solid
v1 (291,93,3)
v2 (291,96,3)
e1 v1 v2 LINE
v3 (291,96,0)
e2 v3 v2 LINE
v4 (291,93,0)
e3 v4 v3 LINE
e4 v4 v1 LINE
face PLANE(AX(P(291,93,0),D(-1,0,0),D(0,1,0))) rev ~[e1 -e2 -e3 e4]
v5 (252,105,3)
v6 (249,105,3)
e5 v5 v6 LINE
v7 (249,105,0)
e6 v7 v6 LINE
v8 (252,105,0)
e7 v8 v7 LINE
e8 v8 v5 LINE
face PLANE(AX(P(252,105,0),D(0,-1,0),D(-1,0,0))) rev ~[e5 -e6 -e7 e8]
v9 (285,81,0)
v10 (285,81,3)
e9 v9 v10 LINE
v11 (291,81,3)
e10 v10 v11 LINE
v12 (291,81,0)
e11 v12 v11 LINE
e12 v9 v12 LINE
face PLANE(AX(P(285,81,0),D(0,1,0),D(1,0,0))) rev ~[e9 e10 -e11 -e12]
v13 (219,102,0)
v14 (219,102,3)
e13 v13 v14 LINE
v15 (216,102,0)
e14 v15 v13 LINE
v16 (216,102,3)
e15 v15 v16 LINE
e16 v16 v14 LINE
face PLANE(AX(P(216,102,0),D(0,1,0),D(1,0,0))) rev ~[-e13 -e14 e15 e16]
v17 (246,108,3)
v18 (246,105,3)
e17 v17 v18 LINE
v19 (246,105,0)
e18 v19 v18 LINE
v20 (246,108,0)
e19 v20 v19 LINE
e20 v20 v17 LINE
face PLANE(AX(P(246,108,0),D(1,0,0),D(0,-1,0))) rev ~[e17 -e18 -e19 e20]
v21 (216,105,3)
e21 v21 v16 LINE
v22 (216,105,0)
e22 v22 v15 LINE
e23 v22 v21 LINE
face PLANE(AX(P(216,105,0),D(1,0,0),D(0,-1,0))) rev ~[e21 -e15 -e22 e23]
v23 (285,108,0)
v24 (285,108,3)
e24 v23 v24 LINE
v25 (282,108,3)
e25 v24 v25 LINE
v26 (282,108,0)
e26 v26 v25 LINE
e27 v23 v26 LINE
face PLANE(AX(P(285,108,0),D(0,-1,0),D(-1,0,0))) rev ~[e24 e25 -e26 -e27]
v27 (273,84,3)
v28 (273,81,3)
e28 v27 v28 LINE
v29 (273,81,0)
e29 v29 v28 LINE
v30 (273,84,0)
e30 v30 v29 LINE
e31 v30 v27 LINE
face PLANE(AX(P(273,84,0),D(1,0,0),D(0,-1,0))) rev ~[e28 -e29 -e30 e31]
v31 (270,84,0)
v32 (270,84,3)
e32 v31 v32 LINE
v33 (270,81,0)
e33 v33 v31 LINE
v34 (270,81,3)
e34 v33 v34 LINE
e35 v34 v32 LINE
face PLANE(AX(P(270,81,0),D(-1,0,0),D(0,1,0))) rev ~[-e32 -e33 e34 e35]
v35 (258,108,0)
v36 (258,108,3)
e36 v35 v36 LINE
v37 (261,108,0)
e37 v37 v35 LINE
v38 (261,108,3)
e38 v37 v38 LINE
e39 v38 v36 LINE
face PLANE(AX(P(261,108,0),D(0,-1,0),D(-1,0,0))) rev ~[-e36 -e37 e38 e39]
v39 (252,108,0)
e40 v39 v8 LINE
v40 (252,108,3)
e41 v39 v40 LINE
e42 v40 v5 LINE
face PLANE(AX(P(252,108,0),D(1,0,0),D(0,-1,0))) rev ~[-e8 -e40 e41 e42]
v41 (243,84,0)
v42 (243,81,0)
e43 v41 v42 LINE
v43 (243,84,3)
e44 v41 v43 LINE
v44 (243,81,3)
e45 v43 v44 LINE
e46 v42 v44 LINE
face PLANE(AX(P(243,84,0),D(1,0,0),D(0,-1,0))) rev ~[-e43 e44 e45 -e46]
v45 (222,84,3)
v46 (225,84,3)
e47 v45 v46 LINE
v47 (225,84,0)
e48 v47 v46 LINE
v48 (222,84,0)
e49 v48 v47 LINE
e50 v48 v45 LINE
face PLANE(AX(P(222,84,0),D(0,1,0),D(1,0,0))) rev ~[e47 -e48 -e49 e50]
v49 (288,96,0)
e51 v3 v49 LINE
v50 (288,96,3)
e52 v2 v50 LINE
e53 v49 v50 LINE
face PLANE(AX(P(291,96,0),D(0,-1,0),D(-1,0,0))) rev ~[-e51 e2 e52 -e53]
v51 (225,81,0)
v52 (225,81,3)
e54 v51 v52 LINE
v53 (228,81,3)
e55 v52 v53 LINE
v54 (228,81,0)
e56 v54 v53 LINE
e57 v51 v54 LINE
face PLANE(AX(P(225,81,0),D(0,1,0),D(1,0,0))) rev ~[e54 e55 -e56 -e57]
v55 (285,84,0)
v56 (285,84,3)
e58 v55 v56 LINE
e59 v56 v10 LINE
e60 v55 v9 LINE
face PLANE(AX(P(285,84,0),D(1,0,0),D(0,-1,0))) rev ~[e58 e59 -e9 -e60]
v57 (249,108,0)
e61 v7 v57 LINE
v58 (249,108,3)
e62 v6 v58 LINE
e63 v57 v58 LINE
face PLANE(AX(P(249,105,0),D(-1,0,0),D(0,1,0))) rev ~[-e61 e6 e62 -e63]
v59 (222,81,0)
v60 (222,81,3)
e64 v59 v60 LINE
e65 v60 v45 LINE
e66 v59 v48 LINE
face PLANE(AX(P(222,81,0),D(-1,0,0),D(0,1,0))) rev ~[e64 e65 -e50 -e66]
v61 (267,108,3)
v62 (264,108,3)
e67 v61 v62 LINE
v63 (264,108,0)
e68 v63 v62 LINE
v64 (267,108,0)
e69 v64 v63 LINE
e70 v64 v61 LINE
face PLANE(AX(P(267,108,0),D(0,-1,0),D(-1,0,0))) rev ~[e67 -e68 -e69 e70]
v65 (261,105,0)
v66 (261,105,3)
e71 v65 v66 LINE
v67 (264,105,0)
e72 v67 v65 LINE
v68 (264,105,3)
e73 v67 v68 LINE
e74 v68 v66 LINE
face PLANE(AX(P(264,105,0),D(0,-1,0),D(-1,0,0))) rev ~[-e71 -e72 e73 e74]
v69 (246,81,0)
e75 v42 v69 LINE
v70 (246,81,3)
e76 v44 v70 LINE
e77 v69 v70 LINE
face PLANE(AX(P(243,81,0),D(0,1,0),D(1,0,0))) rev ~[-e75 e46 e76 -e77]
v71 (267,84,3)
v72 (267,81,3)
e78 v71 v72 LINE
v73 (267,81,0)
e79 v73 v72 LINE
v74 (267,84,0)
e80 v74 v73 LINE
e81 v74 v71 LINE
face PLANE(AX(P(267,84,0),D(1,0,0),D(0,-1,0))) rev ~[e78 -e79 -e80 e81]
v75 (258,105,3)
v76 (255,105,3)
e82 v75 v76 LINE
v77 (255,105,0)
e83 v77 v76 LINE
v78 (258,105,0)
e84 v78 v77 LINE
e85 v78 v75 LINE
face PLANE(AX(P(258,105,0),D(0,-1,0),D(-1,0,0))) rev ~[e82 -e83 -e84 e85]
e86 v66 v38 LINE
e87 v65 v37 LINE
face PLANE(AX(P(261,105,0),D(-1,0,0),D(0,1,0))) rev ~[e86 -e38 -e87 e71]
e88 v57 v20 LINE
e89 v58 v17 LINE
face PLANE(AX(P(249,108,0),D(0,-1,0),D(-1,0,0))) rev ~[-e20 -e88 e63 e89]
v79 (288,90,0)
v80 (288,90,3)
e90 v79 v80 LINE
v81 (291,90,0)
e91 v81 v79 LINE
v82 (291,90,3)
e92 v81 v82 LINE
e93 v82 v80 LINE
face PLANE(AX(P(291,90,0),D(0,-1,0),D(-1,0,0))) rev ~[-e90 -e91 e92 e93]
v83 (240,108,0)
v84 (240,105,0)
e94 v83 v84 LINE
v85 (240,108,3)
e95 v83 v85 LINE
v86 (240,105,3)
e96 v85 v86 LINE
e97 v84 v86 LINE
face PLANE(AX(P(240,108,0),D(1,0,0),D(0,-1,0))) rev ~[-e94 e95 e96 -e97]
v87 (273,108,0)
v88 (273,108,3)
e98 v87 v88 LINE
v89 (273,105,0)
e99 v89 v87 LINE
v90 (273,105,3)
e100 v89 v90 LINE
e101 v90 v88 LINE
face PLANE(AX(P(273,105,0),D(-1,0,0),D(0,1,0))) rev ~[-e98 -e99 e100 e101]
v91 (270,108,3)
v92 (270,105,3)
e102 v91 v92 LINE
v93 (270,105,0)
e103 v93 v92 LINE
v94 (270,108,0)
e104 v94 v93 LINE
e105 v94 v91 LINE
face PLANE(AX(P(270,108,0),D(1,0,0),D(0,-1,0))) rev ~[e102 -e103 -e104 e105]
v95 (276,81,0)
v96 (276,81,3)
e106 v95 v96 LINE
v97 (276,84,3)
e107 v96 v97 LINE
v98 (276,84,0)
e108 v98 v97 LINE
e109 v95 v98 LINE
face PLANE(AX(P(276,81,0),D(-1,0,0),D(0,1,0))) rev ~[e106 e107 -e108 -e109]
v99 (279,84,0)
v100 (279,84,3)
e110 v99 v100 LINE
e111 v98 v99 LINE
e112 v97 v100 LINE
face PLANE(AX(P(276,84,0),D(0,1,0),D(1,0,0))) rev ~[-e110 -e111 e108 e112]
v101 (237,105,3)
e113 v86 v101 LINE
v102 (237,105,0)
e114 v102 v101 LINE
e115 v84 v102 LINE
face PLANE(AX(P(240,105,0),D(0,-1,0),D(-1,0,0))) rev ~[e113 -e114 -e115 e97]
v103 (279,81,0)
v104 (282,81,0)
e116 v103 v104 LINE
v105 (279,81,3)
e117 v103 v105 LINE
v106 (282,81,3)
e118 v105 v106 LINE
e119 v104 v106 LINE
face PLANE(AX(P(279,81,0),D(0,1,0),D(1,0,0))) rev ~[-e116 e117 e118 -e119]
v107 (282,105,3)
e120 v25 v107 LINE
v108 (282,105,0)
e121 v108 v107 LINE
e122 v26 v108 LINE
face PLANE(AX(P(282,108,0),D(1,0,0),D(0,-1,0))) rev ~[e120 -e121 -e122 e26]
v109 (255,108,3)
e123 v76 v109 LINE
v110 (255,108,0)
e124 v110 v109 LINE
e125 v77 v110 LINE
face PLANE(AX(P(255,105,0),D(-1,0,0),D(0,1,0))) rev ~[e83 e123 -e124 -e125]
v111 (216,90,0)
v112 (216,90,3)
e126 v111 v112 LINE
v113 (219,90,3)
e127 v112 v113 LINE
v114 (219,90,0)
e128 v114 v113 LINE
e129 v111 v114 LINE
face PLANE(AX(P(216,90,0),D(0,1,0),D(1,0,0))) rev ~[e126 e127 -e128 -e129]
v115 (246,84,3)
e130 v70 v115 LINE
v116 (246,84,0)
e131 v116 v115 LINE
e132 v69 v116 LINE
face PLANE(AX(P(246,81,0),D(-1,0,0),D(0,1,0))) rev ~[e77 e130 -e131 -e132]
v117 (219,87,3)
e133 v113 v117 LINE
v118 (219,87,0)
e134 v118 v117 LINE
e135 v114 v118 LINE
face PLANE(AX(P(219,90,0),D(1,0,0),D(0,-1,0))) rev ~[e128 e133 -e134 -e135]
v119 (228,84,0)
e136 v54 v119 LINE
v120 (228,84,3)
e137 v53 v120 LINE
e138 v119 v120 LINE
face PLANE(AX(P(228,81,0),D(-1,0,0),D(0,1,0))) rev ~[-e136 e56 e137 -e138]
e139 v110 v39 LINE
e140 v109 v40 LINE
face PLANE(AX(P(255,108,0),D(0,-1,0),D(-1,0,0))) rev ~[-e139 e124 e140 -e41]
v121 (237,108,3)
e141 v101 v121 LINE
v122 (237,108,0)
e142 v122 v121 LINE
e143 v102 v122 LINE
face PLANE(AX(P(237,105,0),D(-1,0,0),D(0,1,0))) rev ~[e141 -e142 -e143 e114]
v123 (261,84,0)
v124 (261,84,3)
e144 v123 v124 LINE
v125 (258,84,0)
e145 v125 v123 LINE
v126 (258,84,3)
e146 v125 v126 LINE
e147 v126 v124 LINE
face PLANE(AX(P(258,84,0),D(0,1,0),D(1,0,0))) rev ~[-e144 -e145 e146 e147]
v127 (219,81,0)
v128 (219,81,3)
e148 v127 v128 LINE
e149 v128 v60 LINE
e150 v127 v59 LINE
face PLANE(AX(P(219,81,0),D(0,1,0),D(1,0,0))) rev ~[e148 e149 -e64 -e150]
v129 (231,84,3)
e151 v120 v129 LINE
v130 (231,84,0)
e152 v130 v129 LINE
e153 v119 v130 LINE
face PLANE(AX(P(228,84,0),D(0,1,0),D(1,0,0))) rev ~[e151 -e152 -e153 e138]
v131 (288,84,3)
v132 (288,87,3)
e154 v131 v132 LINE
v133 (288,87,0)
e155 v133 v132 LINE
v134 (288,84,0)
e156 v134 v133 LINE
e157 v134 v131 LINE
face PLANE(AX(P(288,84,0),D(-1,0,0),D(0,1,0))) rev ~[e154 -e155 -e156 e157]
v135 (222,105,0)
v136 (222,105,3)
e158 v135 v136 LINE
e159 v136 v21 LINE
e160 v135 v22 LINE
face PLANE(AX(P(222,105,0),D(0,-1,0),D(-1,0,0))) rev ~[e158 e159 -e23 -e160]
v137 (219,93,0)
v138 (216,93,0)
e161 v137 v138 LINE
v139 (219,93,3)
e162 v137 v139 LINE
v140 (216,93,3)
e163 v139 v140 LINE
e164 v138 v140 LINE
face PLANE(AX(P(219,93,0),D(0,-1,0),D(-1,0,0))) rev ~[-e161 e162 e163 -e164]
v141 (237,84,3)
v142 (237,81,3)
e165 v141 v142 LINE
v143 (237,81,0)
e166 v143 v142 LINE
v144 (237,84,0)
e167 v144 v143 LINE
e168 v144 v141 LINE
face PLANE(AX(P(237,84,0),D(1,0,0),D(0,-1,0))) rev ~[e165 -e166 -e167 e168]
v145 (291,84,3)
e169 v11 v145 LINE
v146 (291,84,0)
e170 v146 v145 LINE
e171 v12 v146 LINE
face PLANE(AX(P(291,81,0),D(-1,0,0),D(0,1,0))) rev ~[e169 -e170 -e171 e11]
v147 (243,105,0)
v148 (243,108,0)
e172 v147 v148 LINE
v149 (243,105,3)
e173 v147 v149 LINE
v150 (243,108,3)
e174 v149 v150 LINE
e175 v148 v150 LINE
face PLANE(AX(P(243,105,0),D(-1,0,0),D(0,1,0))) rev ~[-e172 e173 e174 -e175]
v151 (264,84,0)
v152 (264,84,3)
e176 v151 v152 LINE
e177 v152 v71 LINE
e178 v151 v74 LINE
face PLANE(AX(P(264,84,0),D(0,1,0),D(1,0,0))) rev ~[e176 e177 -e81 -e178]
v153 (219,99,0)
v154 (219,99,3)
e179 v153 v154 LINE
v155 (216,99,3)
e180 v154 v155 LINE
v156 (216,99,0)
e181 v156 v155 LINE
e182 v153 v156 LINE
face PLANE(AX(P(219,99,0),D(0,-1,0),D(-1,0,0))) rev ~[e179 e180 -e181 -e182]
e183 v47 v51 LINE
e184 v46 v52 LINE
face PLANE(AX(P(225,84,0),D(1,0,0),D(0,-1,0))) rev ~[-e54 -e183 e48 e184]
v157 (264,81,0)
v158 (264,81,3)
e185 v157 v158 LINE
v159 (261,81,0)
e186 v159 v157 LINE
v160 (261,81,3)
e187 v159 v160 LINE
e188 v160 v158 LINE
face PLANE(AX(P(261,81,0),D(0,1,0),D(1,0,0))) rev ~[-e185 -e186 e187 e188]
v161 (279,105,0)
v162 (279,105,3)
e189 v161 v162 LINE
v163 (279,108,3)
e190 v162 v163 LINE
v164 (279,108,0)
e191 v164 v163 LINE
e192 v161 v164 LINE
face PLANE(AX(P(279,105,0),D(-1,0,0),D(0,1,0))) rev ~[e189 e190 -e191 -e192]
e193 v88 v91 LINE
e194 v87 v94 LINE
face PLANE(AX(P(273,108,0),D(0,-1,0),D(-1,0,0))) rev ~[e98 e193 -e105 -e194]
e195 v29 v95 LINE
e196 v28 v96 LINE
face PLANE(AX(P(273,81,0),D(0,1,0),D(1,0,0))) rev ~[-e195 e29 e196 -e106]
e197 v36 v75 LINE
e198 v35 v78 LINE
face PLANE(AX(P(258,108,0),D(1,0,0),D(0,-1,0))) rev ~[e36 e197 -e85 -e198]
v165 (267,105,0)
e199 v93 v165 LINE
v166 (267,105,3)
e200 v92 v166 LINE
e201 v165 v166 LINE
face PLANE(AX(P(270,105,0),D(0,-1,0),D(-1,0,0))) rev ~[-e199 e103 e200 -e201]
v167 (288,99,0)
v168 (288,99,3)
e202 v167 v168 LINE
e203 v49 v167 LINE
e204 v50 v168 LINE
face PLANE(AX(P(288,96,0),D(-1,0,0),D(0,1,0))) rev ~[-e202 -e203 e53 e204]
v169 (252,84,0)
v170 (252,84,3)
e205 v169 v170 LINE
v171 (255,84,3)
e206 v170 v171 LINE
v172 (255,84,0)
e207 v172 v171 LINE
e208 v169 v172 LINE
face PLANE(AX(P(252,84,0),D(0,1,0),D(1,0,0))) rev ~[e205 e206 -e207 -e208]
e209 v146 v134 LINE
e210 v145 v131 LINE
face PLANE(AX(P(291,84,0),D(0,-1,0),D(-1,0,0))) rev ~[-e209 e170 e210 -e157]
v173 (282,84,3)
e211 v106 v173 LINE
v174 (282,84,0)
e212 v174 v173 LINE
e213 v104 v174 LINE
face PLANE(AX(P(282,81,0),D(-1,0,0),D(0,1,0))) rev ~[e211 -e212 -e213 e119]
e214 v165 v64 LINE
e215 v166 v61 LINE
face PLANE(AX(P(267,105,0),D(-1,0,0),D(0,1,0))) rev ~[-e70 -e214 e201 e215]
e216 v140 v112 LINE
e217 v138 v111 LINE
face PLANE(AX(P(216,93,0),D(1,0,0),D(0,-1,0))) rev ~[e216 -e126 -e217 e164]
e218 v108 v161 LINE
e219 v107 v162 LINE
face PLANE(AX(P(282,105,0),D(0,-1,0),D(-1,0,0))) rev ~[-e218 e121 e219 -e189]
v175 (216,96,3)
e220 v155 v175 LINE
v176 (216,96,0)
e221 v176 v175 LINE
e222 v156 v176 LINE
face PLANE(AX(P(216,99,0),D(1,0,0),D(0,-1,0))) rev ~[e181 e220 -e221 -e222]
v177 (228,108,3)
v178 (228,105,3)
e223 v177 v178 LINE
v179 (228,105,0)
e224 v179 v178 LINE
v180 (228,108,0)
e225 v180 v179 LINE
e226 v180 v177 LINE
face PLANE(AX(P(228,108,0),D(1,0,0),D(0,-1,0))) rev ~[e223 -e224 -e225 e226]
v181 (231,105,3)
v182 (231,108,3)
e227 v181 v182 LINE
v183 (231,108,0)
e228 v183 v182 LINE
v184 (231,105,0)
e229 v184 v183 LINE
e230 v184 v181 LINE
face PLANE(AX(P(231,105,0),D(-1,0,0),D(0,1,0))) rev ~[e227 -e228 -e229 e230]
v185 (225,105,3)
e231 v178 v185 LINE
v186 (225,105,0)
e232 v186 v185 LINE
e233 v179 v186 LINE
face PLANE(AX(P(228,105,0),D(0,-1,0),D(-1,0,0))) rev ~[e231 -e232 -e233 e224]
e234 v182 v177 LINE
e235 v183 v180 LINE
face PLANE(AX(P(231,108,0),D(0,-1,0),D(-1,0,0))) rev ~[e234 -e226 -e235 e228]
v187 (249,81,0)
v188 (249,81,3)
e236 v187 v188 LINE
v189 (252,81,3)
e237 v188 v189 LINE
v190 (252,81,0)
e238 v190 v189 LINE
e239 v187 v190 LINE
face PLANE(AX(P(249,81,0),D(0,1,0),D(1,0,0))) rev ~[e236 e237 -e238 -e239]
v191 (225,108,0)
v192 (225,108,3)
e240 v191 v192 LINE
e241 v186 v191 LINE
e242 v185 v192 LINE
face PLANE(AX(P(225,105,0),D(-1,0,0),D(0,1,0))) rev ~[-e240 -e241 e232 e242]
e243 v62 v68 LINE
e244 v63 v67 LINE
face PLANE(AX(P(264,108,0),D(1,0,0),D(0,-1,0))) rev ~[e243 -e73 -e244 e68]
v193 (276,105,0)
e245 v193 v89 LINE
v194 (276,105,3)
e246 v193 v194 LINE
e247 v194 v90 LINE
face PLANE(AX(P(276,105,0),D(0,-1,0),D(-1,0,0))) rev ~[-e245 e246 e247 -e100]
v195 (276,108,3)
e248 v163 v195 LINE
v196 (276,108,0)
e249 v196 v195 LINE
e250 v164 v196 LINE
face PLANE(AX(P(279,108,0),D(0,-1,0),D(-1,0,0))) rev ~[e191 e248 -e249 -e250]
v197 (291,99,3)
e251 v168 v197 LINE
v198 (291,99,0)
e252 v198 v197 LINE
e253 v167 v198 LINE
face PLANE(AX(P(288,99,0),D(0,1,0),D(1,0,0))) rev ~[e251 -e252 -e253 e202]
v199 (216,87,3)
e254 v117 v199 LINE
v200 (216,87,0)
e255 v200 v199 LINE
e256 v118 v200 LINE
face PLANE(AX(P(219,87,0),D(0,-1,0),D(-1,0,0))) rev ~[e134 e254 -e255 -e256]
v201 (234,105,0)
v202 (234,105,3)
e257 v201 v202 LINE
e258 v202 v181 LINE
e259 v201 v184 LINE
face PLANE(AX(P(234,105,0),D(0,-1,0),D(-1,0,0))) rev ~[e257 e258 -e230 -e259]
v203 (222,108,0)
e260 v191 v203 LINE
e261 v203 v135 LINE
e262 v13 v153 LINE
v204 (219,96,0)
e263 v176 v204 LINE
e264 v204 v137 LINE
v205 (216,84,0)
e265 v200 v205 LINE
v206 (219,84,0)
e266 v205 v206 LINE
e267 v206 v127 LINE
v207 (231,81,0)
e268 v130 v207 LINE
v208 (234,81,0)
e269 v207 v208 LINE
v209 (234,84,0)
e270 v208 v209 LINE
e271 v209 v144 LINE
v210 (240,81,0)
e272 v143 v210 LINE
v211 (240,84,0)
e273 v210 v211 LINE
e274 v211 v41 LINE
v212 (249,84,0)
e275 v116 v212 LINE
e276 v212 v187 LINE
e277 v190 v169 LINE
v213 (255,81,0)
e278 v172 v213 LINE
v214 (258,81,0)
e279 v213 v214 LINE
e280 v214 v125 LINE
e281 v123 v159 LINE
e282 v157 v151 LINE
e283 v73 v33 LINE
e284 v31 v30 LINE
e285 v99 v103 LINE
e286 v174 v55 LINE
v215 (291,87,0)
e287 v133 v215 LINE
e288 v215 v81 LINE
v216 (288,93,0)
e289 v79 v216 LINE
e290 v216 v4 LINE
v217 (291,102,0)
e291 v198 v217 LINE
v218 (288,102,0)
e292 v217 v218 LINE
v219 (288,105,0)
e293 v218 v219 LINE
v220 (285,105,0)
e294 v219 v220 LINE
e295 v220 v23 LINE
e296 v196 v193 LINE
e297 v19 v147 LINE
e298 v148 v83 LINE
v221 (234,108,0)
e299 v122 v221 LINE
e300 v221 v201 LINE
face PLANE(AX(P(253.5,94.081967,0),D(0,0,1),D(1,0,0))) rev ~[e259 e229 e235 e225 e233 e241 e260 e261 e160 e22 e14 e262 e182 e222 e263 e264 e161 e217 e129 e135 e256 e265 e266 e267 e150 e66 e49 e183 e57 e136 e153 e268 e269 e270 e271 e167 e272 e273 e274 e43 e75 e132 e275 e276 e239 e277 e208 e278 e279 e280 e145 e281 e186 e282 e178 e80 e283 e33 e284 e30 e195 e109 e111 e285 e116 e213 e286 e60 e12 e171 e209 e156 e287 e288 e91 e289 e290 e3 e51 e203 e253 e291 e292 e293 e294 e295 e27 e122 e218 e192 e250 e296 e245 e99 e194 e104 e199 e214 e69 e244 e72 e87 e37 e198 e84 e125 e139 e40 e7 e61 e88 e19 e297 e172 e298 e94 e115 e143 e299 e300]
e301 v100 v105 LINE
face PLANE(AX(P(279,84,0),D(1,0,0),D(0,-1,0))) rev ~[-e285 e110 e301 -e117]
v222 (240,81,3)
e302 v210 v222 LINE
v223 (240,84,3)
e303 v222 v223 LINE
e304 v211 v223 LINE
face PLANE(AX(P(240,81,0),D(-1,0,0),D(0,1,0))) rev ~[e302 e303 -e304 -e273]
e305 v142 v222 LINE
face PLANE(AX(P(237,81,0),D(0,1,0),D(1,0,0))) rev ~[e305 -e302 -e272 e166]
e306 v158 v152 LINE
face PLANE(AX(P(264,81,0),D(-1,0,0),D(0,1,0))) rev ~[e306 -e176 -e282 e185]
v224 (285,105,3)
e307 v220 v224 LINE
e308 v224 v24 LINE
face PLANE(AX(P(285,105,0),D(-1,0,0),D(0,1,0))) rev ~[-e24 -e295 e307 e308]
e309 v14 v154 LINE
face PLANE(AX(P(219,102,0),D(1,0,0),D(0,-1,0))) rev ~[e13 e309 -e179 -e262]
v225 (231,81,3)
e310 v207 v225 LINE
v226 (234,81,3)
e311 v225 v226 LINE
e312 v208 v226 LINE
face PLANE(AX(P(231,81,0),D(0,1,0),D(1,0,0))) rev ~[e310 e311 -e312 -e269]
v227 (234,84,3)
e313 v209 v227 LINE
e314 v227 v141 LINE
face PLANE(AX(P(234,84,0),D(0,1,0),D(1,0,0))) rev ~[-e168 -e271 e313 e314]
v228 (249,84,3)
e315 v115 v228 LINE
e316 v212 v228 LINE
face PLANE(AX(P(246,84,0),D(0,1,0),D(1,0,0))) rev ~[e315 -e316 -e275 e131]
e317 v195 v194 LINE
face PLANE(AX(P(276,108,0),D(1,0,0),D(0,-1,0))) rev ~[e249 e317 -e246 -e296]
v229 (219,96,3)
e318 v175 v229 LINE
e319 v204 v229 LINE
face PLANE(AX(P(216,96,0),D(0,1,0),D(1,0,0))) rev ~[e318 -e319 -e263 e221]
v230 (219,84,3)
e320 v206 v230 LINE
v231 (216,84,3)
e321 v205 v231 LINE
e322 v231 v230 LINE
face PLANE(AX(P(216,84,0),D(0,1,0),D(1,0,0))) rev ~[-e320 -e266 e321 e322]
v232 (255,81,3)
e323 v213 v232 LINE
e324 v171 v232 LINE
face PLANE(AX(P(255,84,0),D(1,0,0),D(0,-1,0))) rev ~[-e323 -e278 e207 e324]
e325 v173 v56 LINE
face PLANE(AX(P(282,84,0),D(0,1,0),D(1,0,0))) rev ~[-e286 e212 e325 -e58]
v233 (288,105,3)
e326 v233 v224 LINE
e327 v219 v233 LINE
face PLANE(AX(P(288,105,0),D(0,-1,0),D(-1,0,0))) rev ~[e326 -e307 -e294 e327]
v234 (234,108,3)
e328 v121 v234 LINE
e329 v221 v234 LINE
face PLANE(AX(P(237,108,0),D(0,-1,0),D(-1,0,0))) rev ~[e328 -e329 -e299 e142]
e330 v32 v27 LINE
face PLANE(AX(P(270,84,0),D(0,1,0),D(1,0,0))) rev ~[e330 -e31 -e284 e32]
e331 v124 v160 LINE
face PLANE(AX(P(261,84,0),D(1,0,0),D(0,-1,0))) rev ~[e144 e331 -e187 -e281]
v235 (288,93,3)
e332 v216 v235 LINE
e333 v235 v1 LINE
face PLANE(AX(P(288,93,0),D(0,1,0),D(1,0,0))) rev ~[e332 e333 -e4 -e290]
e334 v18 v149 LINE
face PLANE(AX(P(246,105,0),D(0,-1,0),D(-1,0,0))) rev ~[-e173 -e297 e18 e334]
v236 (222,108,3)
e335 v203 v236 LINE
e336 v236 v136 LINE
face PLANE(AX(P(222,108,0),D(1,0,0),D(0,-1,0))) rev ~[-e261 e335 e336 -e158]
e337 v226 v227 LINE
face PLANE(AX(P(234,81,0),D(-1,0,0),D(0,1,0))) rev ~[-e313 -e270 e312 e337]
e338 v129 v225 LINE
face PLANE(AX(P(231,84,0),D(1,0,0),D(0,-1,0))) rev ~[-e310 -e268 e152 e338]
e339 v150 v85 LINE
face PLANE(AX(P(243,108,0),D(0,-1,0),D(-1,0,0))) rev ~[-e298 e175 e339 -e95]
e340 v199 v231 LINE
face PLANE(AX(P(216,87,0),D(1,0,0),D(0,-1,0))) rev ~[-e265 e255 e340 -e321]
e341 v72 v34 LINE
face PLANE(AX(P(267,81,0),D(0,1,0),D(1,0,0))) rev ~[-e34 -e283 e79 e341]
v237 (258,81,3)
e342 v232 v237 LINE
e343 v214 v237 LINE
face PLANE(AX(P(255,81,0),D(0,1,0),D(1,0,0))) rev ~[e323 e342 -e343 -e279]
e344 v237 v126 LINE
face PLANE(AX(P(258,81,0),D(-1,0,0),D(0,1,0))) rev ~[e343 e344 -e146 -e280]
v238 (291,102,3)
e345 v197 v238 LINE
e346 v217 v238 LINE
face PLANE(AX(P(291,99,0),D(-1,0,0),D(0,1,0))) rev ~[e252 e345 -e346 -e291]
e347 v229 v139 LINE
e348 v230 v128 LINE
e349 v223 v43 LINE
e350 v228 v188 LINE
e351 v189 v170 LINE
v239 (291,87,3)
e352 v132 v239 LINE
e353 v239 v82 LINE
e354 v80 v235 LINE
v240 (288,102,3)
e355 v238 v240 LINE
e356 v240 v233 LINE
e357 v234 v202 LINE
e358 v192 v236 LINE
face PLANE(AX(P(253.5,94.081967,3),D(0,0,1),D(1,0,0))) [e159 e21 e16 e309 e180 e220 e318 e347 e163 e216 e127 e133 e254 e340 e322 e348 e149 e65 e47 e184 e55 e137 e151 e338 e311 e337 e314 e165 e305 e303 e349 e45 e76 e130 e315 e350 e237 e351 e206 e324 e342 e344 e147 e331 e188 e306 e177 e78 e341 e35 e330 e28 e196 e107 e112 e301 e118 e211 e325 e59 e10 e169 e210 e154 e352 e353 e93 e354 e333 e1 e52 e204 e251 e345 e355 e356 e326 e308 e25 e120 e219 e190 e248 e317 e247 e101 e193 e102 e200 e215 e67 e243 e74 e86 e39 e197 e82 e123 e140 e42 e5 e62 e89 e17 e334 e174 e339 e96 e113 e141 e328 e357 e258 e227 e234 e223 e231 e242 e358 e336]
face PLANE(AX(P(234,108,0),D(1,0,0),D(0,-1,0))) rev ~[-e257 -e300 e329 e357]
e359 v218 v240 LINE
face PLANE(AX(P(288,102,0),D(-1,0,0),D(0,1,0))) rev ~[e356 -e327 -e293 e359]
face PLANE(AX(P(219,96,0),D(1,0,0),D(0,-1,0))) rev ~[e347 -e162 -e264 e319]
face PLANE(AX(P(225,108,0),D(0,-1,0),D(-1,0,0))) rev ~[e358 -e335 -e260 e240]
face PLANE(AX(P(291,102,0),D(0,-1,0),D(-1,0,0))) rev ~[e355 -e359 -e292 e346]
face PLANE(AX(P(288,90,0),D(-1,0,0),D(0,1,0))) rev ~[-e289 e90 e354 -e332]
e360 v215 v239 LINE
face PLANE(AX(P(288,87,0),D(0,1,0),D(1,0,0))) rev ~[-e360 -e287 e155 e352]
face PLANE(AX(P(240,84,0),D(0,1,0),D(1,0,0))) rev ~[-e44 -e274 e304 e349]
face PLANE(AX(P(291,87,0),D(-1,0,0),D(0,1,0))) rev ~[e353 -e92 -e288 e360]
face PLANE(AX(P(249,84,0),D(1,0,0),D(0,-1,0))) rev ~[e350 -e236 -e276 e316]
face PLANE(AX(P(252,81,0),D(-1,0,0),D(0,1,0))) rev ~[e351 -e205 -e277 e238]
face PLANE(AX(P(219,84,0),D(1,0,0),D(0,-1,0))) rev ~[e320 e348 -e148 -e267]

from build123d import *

# Parameters (mm, degrees)
BOSS_EXTRUDE1_DEPTH = 3


with BuildPart() as part:
    # Sketch1 → Boss-Extrude1 (new body)
    with BuildSketch(Plane.XY):
        Polygon((282, 84), (285, 84), (285, 81), (291, 81), (291, 84), (288, 84), (288, 87), (291, 87), (291, 90), (288, 90), (288, 93), (291, 93), (291, 96), (288, 96), (288, 99), (291, 99), (291, 102), (288, 102), (288, 105), (285, 105), (285, 108), (282, 108), (282, 105), (279, 105), (279, 108), (276, 108), (276, 105), (273, 105), (273, 108), (270, 108), (270, 105), (267, 105), (267, 108), (264, 108), (264, 105), (261, 105), (261, 108), (258, 108), (258, 105), (255, 105), (255, 108), (252, 108), (252, 105), (249, 105), (249, 108), (246, 108), (246, 105), (243, 105), (243, 108), (240, 108), (240, 105), (237, 105), (237, 108), (234, 108), (234, 105), (231, 105), (231, 108), (228, 108), (228, 105), (225, 105), (225, 108), (222, 108), (222, 105), (216, 105), (216, 102), (219, 102), (219, 99), (216, 99), (216, 96), (219, 96), (219, 93), (216, 93), (216, 90), (219, 90), (219, 87), (216, 87), (216, 84), (219, 84), (219, 81), (222, 81), (222, 84), (225, 84), (225, 81), (228, 81), (228, 84), (231, 84), (231, 81), (234, 81), (234, 84), (237, 84), (237, 81), (240, 81), (240, 84), (243, 84), (243, 81), (246, 81), (246, 84), (249, 84), (249, 81), (252, 81), (252, 84), (255, 84), (255, 81), (258, 81), (258, 84), (261, 84), (261, 81), (264, 81), (264, 84), (267, 84), (267, 81), (270, 81), (270, 84), (273, 84), (273, 81), (276, 81), (276, 84), (279, 84), (279, 81), (282, 81), align=None)
    extrude(amount=BOSS_EXTRUDE1_DEPTH)


solid = part.part
